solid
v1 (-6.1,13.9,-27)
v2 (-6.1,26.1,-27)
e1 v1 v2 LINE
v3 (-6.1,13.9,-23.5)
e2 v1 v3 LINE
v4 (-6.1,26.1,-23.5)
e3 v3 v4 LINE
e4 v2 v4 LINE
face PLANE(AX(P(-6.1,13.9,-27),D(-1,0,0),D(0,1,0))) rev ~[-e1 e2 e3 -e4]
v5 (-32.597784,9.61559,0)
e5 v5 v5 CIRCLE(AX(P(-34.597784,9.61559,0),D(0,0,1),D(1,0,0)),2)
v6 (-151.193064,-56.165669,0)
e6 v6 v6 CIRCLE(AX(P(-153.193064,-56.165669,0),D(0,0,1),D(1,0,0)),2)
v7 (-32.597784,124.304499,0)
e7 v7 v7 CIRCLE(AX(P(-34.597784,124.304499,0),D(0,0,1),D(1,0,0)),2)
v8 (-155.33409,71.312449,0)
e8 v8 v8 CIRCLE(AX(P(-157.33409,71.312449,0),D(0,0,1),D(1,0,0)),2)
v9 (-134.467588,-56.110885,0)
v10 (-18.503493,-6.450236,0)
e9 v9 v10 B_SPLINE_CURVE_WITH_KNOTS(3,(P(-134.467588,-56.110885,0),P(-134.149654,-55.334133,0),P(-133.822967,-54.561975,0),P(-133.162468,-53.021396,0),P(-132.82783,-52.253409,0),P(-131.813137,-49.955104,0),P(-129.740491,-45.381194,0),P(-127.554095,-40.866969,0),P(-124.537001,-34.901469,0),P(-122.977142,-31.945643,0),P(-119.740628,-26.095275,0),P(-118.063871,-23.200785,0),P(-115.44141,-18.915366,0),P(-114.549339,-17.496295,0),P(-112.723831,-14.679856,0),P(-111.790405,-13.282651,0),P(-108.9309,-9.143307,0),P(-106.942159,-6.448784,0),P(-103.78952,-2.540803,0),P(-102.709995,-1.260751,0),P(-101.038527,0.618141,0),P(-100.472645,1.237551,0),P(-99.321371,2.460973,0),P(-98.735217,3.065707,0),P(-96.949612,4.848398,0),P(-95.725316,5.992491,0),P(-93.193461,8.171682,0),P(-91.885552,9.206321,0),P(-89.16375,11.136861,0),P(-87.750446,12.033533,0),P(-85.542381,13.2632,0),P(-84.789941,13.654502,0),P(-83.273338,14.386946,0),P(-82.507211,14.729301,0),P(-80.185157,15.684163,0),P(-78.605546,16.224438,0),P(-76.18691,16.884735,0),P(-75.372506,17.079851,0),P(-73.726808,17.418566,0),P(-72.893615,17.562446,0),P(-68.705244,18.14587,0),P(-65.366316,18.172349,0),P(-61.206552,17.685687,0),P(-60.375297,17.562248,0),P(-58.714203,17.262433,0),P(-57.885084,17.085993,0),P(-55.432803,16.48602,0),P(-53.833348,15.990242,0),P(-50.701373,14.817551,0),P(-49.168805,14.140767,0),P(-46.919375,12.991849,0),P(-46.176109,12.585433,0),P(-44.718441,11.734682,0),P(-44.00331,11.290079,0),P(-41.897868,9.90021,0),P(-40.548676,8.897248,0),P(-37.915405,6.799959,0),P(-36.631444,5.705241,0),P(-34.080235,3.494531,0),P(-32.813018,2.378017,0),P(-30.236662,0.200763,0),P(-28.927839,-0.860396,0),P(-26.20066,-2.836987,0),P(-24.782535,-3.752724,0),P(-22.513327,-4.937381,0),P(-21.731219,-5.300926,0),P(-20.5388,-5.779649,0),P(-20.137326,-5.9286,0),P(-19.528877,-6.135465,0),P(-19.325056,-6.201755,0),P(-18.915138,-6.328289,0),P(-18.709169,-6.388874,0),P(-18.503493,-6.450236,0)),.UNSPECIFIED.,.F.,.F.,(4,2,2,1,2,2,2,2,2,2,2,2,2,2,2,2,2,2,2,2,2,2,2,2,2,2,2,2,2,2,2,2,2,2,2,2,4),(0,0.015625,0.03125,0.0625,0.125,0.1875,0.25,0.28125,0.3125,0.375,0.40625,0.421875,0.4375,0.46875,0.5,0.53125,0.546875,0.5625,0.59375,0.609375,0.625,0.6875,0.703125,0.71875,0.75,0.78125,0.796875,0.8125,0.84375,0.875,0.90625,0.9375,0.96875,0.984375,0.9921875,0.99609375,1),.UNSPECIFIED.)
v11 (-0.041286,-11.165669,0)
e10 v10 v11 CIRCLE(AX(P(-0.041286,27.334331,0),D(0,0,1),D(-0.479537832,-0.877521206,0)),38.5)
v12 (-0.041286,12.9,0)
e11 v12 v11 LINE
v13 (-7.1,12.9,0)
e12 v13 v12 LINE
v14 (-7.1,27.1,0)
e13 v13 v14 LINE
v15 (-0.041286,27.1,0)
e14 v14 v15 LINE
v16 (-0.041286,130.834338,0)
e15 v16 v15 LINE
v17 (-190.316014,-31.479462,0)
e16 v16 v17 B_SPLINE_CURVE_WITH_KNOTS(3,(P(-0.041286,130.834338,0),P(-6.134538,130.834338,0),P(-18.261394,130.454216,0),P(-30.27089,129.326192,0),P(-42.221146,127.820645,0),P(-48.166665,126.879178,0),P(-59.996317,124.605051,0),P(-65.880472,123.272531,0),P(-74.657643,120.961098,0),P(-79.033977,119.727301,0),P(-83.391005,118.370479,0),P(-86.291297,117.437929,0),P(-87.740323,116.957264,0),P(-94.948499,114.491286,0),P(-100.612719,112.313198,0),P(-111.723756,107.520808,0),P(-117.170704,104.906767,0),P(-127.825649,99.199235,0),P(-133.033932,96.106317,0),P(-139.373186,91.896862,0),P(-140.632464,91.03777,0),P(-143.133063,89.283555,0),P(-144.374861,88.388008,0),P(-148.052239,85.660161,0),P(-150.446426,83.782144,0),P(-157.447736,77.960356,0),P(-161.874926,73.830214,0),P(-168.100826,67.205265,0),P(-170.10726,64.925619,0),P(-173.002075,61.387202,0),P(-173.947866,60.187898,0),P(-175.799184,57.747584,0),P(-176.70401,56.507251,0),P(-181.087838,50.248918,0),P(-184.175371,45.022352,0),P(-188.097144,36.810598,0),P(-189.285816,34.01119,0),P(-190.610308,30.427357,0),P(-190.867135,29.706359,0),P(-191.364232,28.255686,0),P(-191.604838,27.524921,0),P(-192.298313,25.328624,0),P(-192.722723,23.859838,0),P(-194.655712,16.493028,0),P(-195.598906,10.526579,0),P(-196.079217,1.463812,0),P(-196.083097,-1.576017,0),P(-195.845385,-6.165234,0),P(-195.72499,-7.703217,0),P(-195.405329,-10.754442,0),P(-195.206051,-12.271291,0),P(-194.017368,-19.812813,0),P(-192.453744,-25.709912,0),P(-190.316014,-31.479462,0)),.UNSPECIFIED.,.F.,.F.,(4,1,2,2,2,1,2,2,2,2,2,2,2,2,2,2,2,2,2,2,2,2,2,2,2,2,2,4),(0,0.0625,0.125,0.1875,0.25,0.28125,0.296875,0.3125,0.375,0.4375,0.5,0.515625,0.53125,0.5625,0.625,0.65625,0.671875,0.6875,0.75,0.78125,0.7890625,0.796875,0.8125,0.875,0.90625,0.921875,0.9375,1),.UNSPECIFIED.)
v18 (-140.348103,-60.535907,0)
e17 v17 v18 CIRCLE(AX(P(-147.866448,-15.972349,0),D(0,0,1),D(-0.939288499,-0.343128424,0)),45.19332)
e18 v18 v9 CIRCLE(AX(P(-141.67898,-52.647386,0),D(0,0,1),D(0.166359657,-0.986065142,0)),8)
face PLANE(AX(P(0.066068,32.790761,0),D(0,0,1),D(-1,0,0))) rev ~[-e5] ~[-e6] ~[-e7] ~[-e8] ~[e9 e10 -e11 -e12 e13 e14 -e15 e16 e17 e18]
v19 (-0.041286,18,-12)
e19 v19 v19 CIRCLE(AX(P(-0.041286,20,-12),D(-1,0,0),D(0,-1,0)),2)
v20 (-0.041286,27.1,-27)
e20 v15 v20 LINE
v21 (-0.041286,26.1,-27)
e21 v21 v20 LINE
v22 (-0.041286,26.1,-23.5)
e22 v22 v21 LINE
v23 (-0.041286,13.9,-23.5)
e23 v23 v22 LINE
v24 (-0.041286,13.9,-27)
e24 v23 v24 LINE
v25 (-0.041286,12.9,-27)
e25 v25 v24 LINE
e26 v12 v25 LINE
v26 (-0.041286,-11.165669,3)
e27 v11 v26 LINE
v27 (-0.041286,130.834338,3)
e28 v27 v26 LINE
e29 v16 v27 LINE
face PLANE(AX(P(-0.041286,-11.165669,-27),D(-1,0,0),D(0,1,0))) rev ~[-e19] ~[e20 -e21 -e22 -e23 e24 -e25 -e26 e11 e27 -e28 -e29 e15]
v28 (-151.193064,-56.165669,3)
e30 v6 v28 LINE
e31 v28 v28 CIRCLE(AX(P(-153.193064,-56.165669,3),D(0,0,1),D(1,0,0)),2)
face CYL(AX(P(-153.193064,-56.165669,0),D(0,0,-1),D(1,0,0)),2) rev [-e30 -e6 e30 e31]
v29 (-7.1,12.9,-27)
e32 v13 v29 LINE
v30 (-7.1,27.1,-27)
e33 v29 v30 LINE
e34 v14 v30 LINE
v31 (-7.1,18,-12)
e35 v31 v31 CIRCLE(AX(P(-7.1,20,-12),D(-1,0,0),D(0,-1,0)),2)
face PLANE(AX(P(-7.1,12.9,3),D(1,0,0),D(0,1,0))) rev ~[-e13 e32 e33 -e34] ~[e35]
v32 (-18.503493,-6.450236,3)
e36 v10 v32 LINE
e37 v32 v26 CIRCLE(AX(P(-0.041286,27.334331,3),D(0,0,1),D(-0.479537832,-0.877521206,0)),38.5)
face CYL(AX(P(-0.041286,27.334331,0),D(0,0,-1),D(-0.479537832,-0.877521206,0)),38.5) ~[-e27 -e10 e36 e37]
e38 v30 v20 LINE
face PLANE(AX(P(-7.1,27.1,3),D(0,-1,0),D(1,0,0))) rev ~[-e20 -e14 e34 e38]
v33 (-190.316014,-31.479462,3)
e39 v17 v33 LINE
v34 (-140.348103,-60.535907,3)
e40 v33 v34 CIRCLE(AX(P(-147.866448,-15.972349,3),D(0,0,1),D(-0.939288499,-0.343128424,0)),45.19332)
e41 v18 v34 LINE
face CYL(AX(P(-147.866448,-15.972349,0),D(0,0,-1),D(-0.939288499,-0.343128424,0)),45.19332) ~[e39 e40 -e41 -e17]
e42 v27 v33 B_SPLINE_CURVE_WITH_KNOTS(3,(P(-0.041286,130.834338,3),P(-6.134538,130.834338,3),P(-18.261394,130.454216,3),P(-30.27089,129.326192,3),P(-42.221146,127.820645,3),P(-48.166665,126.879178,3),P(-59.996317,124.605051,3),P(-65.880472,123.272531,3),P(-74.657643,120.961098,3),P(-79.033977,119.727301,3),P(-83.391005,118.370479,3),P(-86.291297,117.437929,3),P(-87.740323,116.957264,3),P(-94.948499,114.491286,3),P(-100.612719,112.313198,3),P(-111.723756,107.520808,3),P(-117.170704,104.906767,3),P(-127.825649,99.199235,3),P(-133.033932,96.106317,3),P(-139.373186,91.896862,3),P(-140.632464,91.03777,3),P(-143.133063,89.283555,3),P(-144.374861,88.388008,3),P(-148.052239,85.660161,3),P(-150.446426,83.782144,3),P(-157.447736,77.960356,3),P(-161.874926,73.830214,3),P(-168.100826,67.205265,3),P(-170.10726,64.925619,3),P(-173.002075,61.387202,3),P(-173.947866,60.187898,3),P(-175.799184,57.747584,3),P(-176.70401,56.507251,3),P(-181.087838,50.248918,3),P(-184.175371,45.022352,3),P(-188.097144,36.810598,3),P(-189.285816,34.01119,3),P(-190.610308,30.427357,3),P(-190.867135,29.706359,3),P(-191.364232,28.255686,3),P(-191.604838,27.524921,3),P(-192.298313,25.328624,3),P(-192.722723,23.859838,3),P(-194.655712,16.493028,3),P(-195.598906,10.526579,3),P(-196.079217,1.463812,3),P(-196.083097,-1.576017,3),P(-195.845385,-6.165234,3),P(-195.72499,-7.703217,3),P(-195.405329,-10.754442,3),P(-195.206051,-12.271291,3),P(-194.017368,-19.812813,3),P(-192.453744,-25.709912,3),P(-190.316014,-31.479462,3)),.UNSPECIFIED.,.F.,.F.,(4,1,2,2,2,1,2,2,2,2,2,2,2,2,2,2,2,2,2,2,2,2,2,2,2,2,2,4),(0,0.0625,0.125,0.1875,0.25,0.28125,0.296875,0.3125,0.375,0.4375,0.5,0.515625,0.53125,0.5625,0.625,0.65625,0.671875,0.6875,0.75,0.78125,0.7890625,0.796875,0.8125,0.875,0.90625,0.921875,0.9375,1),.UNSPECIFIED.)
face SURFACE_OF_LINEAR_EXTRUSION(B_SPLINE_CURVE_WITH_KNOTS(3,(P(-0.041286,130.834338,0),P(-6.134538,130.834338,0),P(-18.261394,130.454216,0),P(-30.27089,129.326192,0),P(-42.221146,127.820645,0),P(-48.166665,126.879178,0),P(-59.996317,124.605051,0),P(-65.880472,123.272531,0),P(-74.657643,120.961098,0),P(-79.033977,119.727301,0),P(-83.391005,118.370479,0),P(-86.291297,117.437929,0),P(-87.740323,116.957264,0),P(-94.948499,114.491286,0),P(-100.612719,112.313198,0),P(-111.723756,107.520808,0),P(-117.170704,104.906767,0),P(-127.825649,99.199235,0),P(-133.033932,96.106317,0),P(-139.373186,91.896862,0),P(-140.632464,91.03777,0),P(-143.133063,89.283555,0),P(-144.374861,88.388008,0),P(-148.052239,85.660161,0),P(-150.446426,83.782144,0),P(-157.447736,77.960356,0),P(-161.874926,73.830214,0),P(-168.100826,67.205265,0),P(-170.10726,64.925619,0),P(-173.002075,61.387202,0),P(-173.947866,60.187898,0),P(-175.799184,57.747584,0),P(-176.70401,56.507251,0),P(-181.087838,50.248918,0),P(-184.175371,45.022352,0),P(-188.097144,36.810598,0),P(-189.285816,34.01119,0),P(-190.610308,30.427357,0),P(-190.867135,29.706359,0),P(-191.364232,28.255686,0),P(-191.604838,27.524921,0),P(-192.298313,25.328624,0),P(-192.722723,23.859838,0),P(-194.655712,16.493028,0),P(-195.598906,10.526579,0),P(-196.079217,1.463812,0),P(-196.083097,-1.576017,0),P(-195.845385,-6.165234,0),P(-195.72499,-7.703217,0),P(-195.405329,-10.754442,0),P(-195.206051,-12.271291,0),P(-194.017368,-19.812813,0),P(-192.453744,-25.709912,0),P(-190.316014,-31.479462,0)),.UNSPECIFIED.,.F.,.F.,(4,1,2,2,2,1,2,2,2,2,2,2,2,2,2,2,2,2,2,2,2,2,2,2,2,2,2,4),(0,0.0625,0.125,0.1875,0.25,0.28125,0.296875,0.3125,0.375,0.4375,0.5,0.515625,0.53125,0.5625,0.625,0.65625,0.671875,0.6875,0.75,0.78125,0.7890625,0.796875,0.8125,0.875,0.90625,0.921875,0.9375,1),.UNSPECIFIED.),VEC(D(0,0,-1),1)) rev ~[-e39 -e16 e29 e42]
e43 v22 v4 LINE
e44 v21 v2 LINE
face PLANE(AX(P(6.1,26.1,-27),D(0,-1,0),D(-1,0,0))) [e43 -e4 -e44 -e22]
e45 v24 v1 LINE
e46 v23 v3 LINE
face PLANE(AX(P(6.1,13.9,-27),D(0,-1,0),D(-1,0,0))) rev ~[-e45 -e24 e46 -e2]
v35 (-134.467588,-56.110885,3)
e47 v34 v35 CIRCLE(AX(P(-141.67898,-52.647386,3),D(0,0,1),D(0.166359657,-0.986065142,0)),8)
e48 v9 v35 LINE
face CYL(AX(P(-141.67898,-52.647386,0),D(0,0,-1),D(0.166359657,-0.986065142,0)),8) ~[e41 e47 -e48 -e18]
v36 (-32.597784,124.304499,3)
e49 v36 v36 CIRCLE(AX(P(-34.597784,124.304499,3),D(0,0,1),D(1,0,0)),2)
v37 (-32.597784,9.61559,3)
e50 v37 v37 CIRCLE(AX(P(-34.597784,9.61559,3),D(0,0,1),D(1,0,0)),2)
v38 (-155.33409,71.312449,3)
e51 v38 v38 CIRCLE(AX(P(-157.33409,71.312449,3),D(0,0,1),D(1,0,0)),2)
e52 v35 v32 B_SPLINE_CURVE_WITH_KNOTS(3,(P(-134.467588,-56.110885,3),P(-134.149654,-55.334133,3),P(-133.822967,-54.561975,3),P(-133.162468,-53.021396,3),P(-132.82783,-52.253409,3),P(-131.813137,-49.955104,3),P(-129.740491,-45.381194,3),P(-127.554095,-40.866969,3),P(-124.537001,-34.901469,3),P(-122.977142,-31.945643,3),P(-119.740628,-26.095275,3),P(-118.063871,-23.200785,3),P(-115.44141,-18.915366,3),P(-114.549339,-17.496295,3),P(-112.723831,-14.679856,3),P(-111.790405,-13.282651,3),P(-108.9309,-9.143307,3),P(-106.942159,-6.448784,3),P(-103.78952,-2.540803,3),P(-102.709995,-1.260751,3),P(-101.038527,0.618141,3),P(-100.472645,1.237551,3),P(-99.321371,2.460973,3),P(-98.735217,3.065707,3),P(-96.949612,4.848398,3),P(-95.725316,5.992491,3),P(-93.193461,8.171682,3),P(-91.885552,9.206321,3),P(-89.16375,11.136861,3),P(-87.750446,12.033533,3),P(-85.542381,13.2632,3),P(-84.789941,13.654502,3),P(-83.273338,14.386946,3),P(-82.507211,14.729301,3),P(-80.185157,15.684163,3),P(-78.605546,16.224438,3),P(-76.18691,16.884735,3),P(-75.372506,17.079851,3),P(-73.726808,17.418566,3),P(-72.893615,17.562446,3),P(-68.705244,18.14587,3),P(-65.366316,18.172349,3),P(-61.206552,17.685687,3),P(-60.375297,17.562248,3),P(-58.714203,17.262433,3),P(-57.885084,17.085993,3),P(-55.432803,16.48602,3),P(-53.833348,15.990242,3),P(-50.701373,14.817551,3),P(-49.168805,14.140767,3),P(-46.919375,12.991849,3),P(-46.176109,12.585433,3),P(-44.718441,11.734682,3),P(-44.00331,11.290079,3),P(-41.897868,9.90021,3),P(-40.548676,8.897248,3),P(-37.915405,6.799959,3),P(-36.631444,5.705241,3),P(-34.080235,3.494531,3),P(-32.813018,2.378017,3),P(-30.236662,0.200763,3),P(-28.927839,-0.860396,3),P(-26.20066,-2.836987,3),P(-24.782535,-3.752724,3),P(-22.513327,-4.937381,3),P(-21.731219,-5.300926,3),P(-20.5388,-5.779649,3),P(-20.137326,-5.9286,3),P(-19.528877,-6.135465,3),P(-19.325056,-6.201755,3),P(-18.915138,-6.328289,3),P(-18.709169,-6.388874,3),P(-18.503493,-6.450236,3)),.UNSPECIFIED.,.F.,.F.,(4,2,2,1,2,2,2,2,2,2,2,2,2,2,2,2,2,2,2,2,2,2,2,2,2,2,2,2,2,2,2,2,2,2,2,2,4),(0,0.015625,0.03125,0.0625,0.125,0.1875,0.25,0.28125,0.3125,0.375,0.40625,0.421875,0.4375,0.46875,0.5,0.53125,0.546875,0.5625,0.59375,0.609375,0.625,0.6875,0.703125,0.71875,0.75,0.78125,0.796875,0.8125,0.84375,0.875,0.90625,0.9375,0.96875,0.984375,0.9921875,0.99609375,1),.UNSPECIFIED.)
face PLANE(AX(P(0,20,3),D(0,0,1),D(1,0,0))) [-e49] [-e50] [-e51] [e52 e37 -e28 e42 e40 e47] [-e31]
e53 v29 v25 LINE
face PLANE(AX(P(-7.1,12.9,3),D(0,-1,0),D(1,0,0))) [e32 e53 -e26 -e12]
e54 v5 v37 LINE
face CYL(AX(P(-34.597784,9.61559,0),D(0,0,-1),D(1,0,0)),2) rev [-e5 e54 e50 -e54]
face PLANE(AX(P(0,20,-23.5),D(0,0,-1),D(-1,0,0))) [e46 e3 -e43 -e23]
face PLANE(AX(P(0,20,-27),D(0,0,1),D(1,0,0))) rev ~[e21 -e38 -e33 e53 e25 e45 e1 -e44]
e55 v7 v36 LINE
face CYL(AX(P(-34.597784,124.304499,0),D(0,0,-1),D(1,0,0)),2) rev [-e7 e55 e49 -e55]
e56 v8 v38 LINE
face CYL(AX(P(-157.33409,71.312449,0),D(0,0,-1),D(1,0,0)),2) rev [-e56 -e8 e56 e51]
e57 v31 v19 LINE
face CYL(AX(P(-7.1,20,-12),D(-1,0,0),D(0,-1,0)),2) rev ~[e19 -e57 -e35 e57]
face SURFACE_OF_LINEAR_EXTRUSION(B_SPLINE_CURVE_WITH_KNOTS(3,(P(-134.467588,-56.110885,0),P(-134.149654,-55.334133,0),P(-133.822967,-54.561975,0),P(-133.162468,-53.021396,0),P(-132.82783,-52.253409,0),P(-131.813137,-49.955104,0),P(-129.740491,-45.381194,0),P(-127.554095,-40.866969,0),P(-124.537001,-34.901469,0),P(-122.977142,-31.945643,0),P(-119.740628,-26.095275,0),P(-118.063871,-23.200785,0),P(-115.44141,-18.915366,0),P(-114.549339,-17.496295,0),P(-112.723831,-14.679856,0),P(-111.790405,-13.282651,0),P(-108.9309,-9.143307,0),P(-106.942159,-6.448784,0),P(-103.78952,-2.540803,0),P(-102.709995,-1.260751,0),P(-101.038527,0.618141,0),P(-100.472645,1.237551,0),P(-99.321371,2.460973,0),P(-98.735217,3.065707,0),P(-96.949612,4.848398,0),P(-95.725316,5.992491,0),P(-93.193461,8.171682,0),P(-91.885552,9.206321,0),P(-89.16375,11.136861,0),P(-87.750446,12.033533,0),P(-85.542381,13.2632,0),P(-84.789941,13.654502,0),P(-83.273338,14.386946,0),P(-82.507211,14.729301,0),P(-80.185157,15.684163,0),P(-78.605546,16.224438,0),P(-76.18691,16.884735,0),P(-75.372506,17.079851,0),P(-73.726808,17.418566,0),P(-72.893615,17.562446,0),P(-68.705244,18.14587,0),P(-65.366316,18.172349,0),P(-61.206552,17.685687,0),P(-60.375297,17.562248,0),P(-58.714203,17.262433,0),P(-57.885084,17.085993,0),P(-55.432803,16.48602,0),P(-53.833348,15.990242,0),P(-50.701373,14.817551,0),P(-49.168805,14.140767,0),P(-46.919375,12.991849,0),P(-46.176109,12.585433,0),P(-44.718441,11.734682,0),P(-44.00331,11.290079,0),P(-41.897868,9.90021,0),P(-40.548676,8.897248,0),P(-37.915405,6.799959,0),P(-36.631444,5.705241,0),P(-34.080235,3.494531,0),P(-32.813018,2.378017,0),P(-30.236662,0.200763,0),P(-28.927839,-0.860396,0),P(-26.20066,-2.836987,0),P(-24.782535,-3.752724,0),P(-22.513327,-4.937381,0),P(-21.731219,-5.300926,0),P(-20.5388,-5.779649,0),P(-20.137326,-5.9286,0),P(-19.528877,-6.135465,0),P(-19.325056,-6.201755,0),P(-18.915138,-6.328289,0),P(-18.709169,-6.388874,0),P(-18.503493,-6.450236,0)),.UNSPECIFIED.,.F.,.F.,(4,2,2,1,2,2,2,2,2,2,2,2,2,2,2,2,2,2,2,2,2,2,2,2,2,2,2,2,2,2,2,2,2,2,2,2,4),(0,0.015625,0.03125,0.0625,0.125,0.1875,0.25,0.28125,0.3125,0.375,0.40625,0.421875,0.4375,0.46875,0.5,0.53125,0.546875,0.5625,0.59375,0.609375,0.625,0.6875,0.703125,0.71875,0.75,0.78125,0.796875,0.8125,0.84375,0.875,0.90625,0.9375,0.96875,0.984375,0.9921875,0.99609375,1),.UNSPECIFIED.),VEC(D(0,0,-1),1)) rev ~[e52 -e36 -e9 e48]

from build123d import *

# Parameters (mm, degrees)
CROQUIS7_R                 = 2.25
CROQUIS7_R_2               = 2
SALIENTE_EXTRUIR5_DEPTH    = 3
CROQUIS8_W                 = 14.2
CROQUIS8_H                 = 14.2
SALIENTE_EXTRUIR6_DEPTH    = 30
CROQUIS9_W                 = 12.2
CROQUIS9_H                 = 12.2
CORTAR_EXTRUIR3_DEPTH      = 3.5
CROQUIS10_R                = 1.5
CROQUIS10_W                = 52
CROQUIS10_H                = 60
CORTAR_EXTRUIR4_DEPTH      = 10
CROQUIS11_R                = 2
CORTAR_EXTRUIR5_DEPTH      = 244.062677057
CORTAR_EXTRUIR6_DEPTH      = 10
CORTAR_EXTRUIR6_DEPTH_BACK = 30


with BuildPart() as part:
    # Croquis7 → Saliente-Extruir5 (new body)
    with BuildSketch(Plane(origin=(0, 0, 0), x_dir=(-1, 0, 0), z_dir=(0, 0, 1))):
        with BuildLine():
            ThreePointArc((140.348102944, 60.535906772), (136.868803986, 59.039740818), (134.467588313, 56.110884882))
            add(Edge.make_bspline(
                [(134.467588313, 56.110884882), (134.149654238, 55.334133411), (133.822967437, 54.561974551), (133.162468089, 53.021395753), (132.827829682, 52.253409151), (131.813137405, 49.95510413), (129.740491118, 45.381193792), (127.554094799, 40.866968809), (124.537000873, 34.901469121), (122.977142227, 31.945642839), (119.740627649, 26.095274542), (118.063871011, 23.200785369), (115.441409795, 18.91536637), (114.549338579, 17.496294783), (112.72383113, 14.679856092), (111.790405163, 13.282650688), (108.93090019, 9.143306555), (106.942158815, 6.448783713), (103.789519774, 2.5408027), (102.709995436, 1.260750849), (101.03852657, -0.618140745), (100.472644941, -1.237551258), (99.321371183, -2.460973153), (98.735216612, -3.065706766), (96.949611744, -4.848397798), (95.725315546, -5.992490783), (93.193460811, -8.17168186), (91.885551874, -9.206321258), (89.163749912, -11.136861166), (87.750446472, -12.033533472), (85.542380661, -13.263200338), (84.789940556, -13.654501875), (83.273337808, -14.386945731), (82.507210908, -14.729300557), (80.185156663, -15.684162987), (78.605545886, -16.224438396), (76.18690973, -16.88473526), (75.372506069, -17.079850593), (73.726807841, -17.418565616), (72.893614615, -17.562445585), (68.705243638, -18.145869815), (65.366316414, -18.172349369), (61.206552273, -17.685687456), (60.375297364, -17.562248247), (58.714202725, -17.262432714), (57.885084071, -17.085992517), (55.432802766, -16.486020136), (53.833347943, -15.990242323), (50.701372835, -14.817551431), (49.168805031, -14.140766948), (46.919374597, -12.991848579), (46.176109393, -12.585433423), (44.71844096, -11.734682347), (44.00330992, -11.290078896), (41.89786804, -9.900210079), (40.548675898, -8.897248108), (37.915404815, -6.799959147), (36.631444442, -5.705240729), (34.080234787, -3.494531224), (32.813017874, -2.37801674), (30.236662295, -0.200762722), (28.927839074, 0.860396497), (26.200660035, 2.836986891), (24.782534521, 3.752724475), (22.513326989, 4.937380803), (21.731218891, 5.30092632), (20.538800155, 5.779648827), (20.137325925, 5.928599802), (19.528876591, 6.135464876), (19.325056364, 6.201754934), (18.915138447, 6.32828856), (18.709169476, 6.388873867), (18.503492991, 6.450235701)],
                knots=[0, 0, 0, 0, 0.015625, 0.015625, 0.03125, 0.03125, 0.0625, 0.125, 0.125, 0.1875, 0.1875, 0.25, 0.25, 0.28125, 0.28125, 0.3125, 0.3125, 0.375, 0.375, 0.40625, 0.40625, 0.421875, 0.421875, 0.4375, 0.4375, 0.46875, 0.46875, 0.5, 0.5, 0.53125, 0.53125, 0.546875, 0.546875, 0.5625, 0.5625, 0.59375, 0.59375, 0.609375, 0.609375, 0.625, 0.625, 0.6875, 0.6875, 0.703125, 0.703125, 0.71875, 0.71875, 0.75, 0.75, 0.78125, 0.78125, 0.796875, 0.796875, 0.8125, 0.8125, 0.84375, 0.84375, 0.875, 0.875, 0.90625, 0.90625, 0.9375, 0.9375, 0.96875, 0.96875, 0.984375, 0.984375, 0.9921875, 0.9921875, 0.99609375, 0.99609375, 1, 1, 1, 1], degree=3))
            ThreePointArc((18.503492991, 6.450235701), (9.568725558, 9.968187997), (0.041286445, 11.165669263))
            ThreePointArc((0.041286445, 11.165669263), (-9.486152668, 9.968187997), (-18.420920101, 6.450235701))
            add(Edge.make_bspline(
                [(-18.420920101, 6.450235701), (-18.623940111, 6.389666404), (-18.827355959, 6.329830822), (-19.231521602, 6.205217931), (-19.432092857, 6.140109685), (-20.029834347, 5.937422038), (-20.422847663, 5.792137477), (-21.586408936, 5.327592923), (-23.851571133, 4.283655696), (-25.957152112, 2.943922804), (-27.995784216, 1.480095188), (-28.664890842, 0.970984568), (-29.983921002, -0.073329511), (-31.932785293, -1.677966714), (-33.830609801, -3.348234863), (-37.648198778, -6.660559044), (-40.223642402, -8.829704647), (-43.732103414, -11.16931662), (-44.447751487, -11.619293464), (-45.90833942, -12.481581481), (-46.654055565, -12.894111913), (-48.910026429, -14.05945093), (-50.447191979, -14.745557377), (-53.587886072, -15.936216829), (-55.191605427, -16.440247818), (-57.65002542, -17.051733947), (-58.478840799, -17.231454942), (-60.152957814, -17.539864916), (-60.990189376, -17.667132679), (-65.177200996, -18.170568112), (-68.529524477, -18.150830669), (-72.723459823, -17.57652989), (-73.56537326, -17.433195972), (-75.227722525, -17.094199895), (-76.049649818, -16.898572429), (-78.48861692, -16.235921786), (-80.078810549, -15.693041625), (-82.413070582, -14.734529063), (-83.182665748, -14.391031128), (-84.704996506, -13.656396586), (-85.459349689, -13.264347284), (-87.686334065, -12.023619951), (-89.109100698, -11.119013238), (-91.845960574, -9.173794538), (-93.159325686, -8.13227129), (-95.699651961, -5.941089833), (-96.92657944, -4.791389468), (-99.311327975, -2.405501713), (-100.470747098, -1.167746926), (-102.705277757, 1.350255866), (-103.784333544, 2.63413345), (-106.931979291, 6.54404893), (-108.909553818, 9.229342103), (-112.69311531, 14.711639925), (-114.498345943, 17.509136981), (-117.975283478, 23.191061246), (-119.646743776, 26.075649006), (-122.879072623, 31.916824892), (-124.439905913, 34.873435974), (-127.463527635, 40.850489896), (-128.925763536, 43.869333899), (-131.039316303, 48.429617131), (-132.076557677, 50.718681564), (-133.080557539, 53.0229294), (-133.740912999, 54.563195318), (-134.0674355, 55.334997841), (-134.385015461, 56.110884961)],
                knots=[0, 0, 0, 0, 0.00390625, 0.00390625, 0.0078125, 0.0078125, 0.015625, 0.015625, 0.03125, 0.0625, 0.0625, 0.078125, 0.078125, 0.09375, 0.125, 0.125, 0.1875, 0.1875, 0.203125, 0.203125, 0.21875, 0.21875, 0.25, 0.25, 0.28125, 0.28125, 0.296875, 0.296875, 0.3125, 0.3125, 0.375, 0.375, 0.390625, 0.390625, 0.40625, 0.40625, 0.4375, 0.4375, 0.453125, 0.453125, 0.46875, 0.46875, 0.5, 0.5, 0.53125, 0.53125, 0.5625, 0.5625, 0.59375, 0.59375, 0.625, 0.625, 0.6875, 0.6875, 0.75, 0.75, 0.8125, 0.8125, 0.875, 0.875, 0.9375, 0.9375, 0.96875, 0.984375, 0.984375, 1, 1, 1, 1], degree=3))
            ThreePointArc((-134.385015461, 56.110884961), (-136.786231132, 59.039740844), (-140.265530055, 60.535906772))
            add(Edge.make_bspline(
                [(-140.265530055, 60.535906772), (-142.869313612, 60.975194236), (-145.472736764, 61.181545126), (-149.377353564, 61.156324129), (-150.678805664, 61.091795359), (-152.630851923, 60.909758714), (-153.281511997, 60.834852812), (-154.582787463, 60.656161872), (-155.234853603, 60.552101706), (-158.476802726, 59.961533397), (-160.993294496, 59.270458626), (-164.656700058, 57.918026872), (-165.859171506, 57.414272212), (-167.634457246, 56.578016163), (-168.221475639, 56.285808038), (-169.38587085, 55.674041203), (-169.964457435, 55.353726594), (-172.807439805, 53.697511994), (-174.937398486, 52.192576754), (-177.922607968, 49.673841605), (-178.882521506, 48.790456721), (-180.268716868, 47.398497719), (-180.721823613, 46.9233488), (-181.609804133, 45.950331764), (-182.044492036, 45.452521121), (-184.149785555, 42.932694997), (-185.636363328, 40.798932433), (-188.228703234, 36.30425224), (-189.334510792, 33.943361708), (-190.239592269, 31.46273884)],
                knots=[0, 0, 0, 0, 0.125, 0.125, 0.1875, 0.1875, 0.21875, 0.21875, 0.25, 0.25, 0.375, 0.375, 0.4375, 0.4375, 0.46875, 0.46875, 0.5, 0.5, 0.625, 0.625, 0.6875, 0.6875, 0.71875, 0.71875, 0.75, 0.75, 0.875, 0.875, 1, 1, 1, 1], degree=3))
            add(Edge.make_bspline(
                [(-190.239592269, 31.46273884), (-192.375255576, 25.696350204), (-193.930960398, 19.817912179), (-195.353011767, 10.824149994), (-195.674576312, 7.796775057), (-195.917624035, 3.209479486), (-195.95859604, 1.668142737), (-195.958829749, -1.399076424), (-195.918430127, -2.92654924), (-195.518471979, -10.533929614), (-194.56743795, -16.524250265), (-192.629288141, -23.898650857), (-192.204015591, -25.3678295), (-191.509820309, -27.563072124), (-191.268868279, -28.293875271), (-190.770797886, -29.745373087), (-190.513422668, -30.466933466), (-189.18582541, -34.054284362), (-187.99353352, -36.858768915), (-185.368434906, -42.346946573), (-183.935518187, -45.030584436), (-181.616583515, -48.97088495), (-180.815309976, -50.270107971), (-179.15756631, -52.840833163), (-178.299496505, -54.114584529), (-173.894487634, -60.387567833), (-170.029043597, -65.071235074), (-161.734486632, -73.885990461), (-157.304059995, -78.015790745), (-151.455251464, -82.873380155), (-150.269861365, -83.829577122), (-147.868570878, -85.712061036), (-146.651110312, -86.639504887), (-142.965561618, -89.369434932), (-140.47059657, -91.115230775), (-132.88142891, -96.148767416), (-127.683244876, -99.23322641), (-117.044436945, -104.928178838), (-111.603518482, -107.538096399), (-100.500242462, -112.325022089), (-94.837739322, -114.501745604), (-87.628813583, -116.966944585), (-86.180135392, -117.447244101), (-83.281186284, -118.37891039), (-78.92614565, -119.734494508), (-74.551754575, -120.967502962), (-65.778285791, -123.277142009), (-59.896441582, -124.608717398), (-48.071099861, -126.88132439), (-42.127581641, -127.822224818), (-30.181011709, -129.326909852), (-18.174890213, -130.454364585), (-6.05076732, -130.834337664), (0.041286395, -130.834337718)],
                knots=[0, 0, 0, 0, 0.0625, 0.0625, 0.09375, 0.09375, 0.109375, 0.109375, 0.125, 0.125, 0.1875, 0.1875, 0.203125, 0.203125, 0.2109375, 0.2109375, 0.21875, 0.21875, 0.25, 0.25, 0.28125, 0.28125, 0.296875, 0.296875, 0.3125, 0.3125, 0.375, 0.375, 0.4375, 0.4375, 0.453125, 0.453125, 0.46875, 0.46875, 0.5, 0.5, 0.5625, 0.5625, 0.625, 0.625, 0.6875, 0.6875, 0.703125, 0.703125, 0.71875, 0.75, 0.75, 0.8125, 0.8125, 0.875, 0.875, 0.9375, 1, 1, 1, 1], degree=3))
            add(Edge.make_bspline(
                [(0.041286395, -130.834337718), (6.134538372, -130.834337861), (18.261394111, -130.454215542), (30.270890379, -129.326191765), (42.221146328, -127.820644803), (48.166664918, -126.879178393), (59.996316501, -124.605051093), (65.880471618, -123.272531195), (74.657643286, -120.961098273), (79.033976886, -119.727301499), (83.391005428, -118.370478603), (86.291297223, -117.437928825), (87.740322905, -116.957264458), (94.94849915, -114.491286465), (100.612718757, -112.313197934), (111.723756279, -107.520808049), (117.170703974, -104.9067671), (127.825648694, -99.19923472), (133.033931688, -96.106317082), (139.373186051, -91.896862023), (140.632464259, -91.037770104), (143.133063373, -89.283555245), (144.374861494, -88.388007586), (148.052238664, -85.660160511), (150.446425915, -83.782144112), (157.447735696, -77.960356266), (161.874926497, -73.830213662), (168.100826372, -67.205265408), (170.107260305, -64.925618709), (173.00207465, -61.387202315), (173.947865617, -60.187897794), (175.799183824, -57.747584062), (176.704009528, -56.507250952), (181.087838152, -50.248918472), (184.175371038, -45.022352222), (188.097143692, -36.810598338), (189.285816024, -34.01118958), (190.610308183, -30.427356556), (190.867135429, -29.70635937), (191.364231806, -28.255685919), (191.604838096, -27.524920821), (192.298313078, -25.328623504), (192.722722681, -23.859837654), (194.655712304, -16.493027919), (195.598905702, -10.526579041), (196.07921656, -1.463811899), (196.083096745, 1.576017168), (195.845385004, 6.165233834), (195.724990331, 7.703216662), (195.405329025, 10.754442145), (195.206051361, 12.271290951), (194.017367953, 19.812812816), (192.45374436, 25.709911997), (190.316013842, 31.479461946)],
                knots=[0, 0, 0, 0, 0.0625, 0.125, 0.125, 0.1875, 0.1875, 0.25, 0.25, 0.28125, 0.296875, 0.296875, 0.3125, 0.3125, 0.375, 0.375, 0.4375, 0.4375, 0.5, 0.5, 0.515625, 0.515625, 0.53125, 0.53125, 0.5625, 0.5625, 0.625, 0.625, 0.65625, 0.65625, 0.671875, 0.671875, 0.6875, 0.6875, 0.75, 0.75, 0.78125, 0.78125, 0.7890625, 0.7890625, 0.796875, 0.796875, 0.8125, 0.8125, 0.875, 0.875, 0.90625, 0.90625, 0.921875, 0.921875, 0.9375, 0.9375, 1, 1, 1, 1], degree=3))
            ThreePointArc((190.316013842, 31.479461946), (170.584652034, 55.040486981), (140.348102944, 60.535906772))
        make_face()
        with Locations(Location((-153.110491216, 56.165669263, 0), (0, 0, 180))):
            Circle(CROQUIS7_R, mode=Mode.SUBTRACT)
        with Locations(Location((-34.515211049, -9.615590181, 0), (0, 0, 180))):
            Circle(CROQUIS7_R, mode=Mode.SUBTRACT)
        with Locations(Location((34.597783939, -9.615590181, 0), (0, 0, 180))):
            Circle(CROQUIS7_R_2, mode=Mode.SUBTRACT)
        with Locations(Location((153.193064106, 56.165669263, 0), (0, 0, 180))):
            Circle(CROQUIS7_R_2, mode=Mode.SUBTRACT)
        with Locations(Location((-157.251517535, -72.229628149, 0), (0, 0, 180))):
            Circle(CROQUIS7_R, mode=Mode.SUBTRACT)
        with Locations(Location((-34.515211049, -124.304498834, 0), (0, 0, 180))):
            Circle(CROQUIS7_R, mode=Mode.SUBTRACT)
        with Locations(Location((34.597783939, -124.304498834, 0), (0, 0, 180))):
            Circle(CROQUIS7_R_2, mode=Mode.SUBTRACT)
        with Locations(Location((157.334090424, -71.312448831, 0), (0, 0, 180))):
            Circle(CROQUIS7_R_2, mode=Mode.SUBTRACT)
    extrude(amount=SALIENTE_EXTRUIR5_DEPTH)

    # Croquis8 → Saliente-Extruir6 (add)
    with BuildSketch(Plane.XY.offset(3)):
        with Locations((0, 20)):
            Rectangle(CROQUIS8_W, CROQUIS8_H)
    extrude(amount=-SALIENTE_EXTRUIR6_DEPTH)

    # Croquis9 → Cortar-Extruir3 (cut)
    with BuildSketch(Plane(origin=(0, 0, -27), x_dir=(-1, 0, 0), z_dir=(0, 0, -1))):
        with Locations((0, 20)):
            Rectangle(CROQUIS9_W, CROQUIS9_H)
    extrude(amount=-CORTAR_EXTRUIR3_DEPTH, mode=Mode.SUBTRACT)

    # Croquis10 → Cortar-Extruir4 (cut)
    with BuildSketch(Plane.XY.offset(3)):
        with Locations((153.110491216, 41.334330737)):
            Circle(CROQUIS10_R)
        with Locations((153.110491216, -23.665669263)):
            Circle(CROQUIS10_R)
        with Locations((153.110491216, 8.834330737)):
            Rectangle(CROQUIS10_W, CROQUIS10_H)
    extrude(amount=-CORTAR_EXTRUIR4_DEPTH, mode=Mode.SUBTRACT)

    # Croquis11 → Cortar-Extruir5 (cut, through all)
    with BuildSketch(Plane.ZY.offset(7.1)):
        with Locations(Location((-12, 20, 0), (0, 0, 270))):
            Circle(CROQUIS11_R)
    extrude(amount=-CORTAR_EXTRUIR5_DEPTH, mode=Mode.SUBTRACT)

    # Croquis12 → Cortar-Extruir6 (cut, two sides: drawn at the far end of the back side and taken through both)
    with BuildSketch(Plane.XY.offset(3).offset(-CORTAR_EXTRUIR6_DEPTH_BACK)):
        with BuildLine():
            Line((-0.041286395, -11.165669263), (-0.041286395, 130.834337718))
            add(Edge.make_bspline(
                [(190.239592269, -31.46273884), (192.375255576, -25.696350204), (193.930960398, -19.817912179), (195.353011767, -10.824149994), (195.674576312, -7.796775057), (195.917624035, -3.209479486), (195.95859604, -1.668142737), (195.958829749, 1.399076424), (195.918430127, 2.92654924), (195.518471979, 10.533929614), (194.56743795, 16.524250265), (192.629288141, 23.898650857), (192.204015591, 25.3678295), (191.509820309, 27.563072124), (191.268868279, 28.293875271), (190.770797886, 29.745373087), (190.513422668, 30.466933466), (189.18582541, 34.054284362), (187.99353352, 36.858768915), (185.368434906, 42.346946573), (183.935518187, 45.030584436), (181.616583515, 48.97088495), (180.815309976, 50.270107971), (179.15756631, 52.840833163), (178.299496505, 54.114584529), (173.894487634, 60.387567833), (170.029043597, 65.071235074), (161.734486632, 73.885990461), (157.304059995, 78.015790745), (151.455251464, 82.873380155), (150.269861365, 83.829577122), (147.868570878, 85.712061036), (146.651110312, 86.639504887), (142.965561618, 89.369434932), (140.47059657, 91.115230775), (132.88142891, 96.148767416), (127.683244876, 99.23322641), (117.044436945, 104.928178838), (111.603518482, 107.538096399), (100.500242462, 112.325022089), (94.837739322, 114.501745604), (87.628813583, 116.966944585), (86.180135392, 117.447244101), (83.281186284, 118.37891039), (78.92614565, 119.734494508), (74.551754575, 120.967502962), (65.778285791, 123.277142009), (59.896441582, 124.608717398), (48.071099861, 126.88132439), (42.127581641, 127.822224818), (30.181011709, 129.326909852), (18.174890213, 130.454364585), (6.05076732, 130.834337664), (-0.041286395, 130.834337718)],
                knots=[0, 0, 0, 0, 0.0625, 0.0625, 0.09375, 0.09375, 0.109375, 0.109375, 0.125, 0.125, 0.1875, 0.1875, 0.203125, 0.203125, 0.2109375, 0.2109375, 0.21875, 0.21875, 0.25, 0.25, 0.28125, 0.28125, 0.296875, 0.296875, 0.3125, 0.3125, 0.375, 0.375, 0.4375, 0.4375, 0.453125, 0.453125, 0.46875, 0.46875, 0.5, 0.5, 0.5625, 0.5625, 0.625, 0.625, 0.6875, 0.6875, 0.703125, 0.703125, 0.71875, 0.75, 0.75, 0.8125, 0.8125, 0.875, 0.875, 0.9375, 1, 1, 1, 1], degree=3))
            add(Edge.make_bspline(
                [(140.265530055, -60.535906772), (142.869313612, -60.975194236), (145.472736764, -61.181545126), (149.377353564, -61.156324129), (150.678805664, -61.091795359), (152.630851923, -60.909758714), (153.281511997, -60.834852812), (154.582787463, -60.656161872), (155.234853603, -60.552101706), (158.476802726, -59.961533397), (160.993294496, -59.270458626), (164.656700058, -57.918026872), (165.859171506, -57.414272212), (167.634457246, -56.578016163), (168.221475639, -56.285808038), (169.38587085, -55.674041203), (169.964457435, -55.353726594), (172.807439805, -53.697511994), (174.937398486, -52.192576754), (177.922607968, -49.673841605), (178.882521506, -48.790456721), (180.268716868, -47.398497719), (180.721823613, -46.9233488), (181.609804133, -45.950331764), (182.044492036, -45.452521121), (184.149785555, -42.932694997), (185.636363328, -40.798932433), (188.228703234, -36.30425224), (189.334510792, -33.943361708), (190.239592269, -31.46273884)],
                knots=[0, 0, 0, 0, 0.125, 0.125, 0.1875, 0.1875, 0.21875, 0.21875, 0.25, 0.25, 0.375, 0.375, 0.4375, 0.4375, 0.46875, 0.46875, 0.5, 0.5, 0.625, 0.625, 0.6875, 0.6875, 0.71875, 0.71875, 0.75, 0.75, 0.875, 0.875, 1, 1, 1, 1], degree=3))
            ThreePointArc((140.265530055, -60.535906772), (136.786231132, -59.039740844), (134.385015461, -56.110884961))
            add(Edge.make_bspline(
                [(18.420920101, -6.450235701), (18.623940111, -6.389666404), (18.827355959, -6.329830822), (19.231521602, -6.205217931), (19.432092857, -6.140109685), (20.029834347, -5.937422038), (20.422847663, -5.792137477), (21.586408936, -5.327592923), (23.851571133, -4.283655696), (25.957152112, -2.943922804), (27.995784216, -1.480095188), (28.664890842, -0.970984568), (29.983921002, 0.073329511), (31.932785293, 1.677966714), (33.830609801, 3.348234863), (37.648198778, 6.660559044), (40.223642402, 8.829704647), (43.732103414, 11.16931662), (44.447751487, 11.619293464), (45.90833942, 12.481581481), (46.654055565, 12.894111913), (48.910026429, 14.05945093), (50.447191979, 14.745557377), (53.587886072, 15.936216829), (55.191605427, 16.440247818), (57.65002542, 17.051733947), (58.478840799, 17.231454942), (60.152957814, 17.539864916), (60.990189376, 17.667132679), (65.177200996, 18.170568112), (68.529524477, 18.150830669), (72.723459823, 17.57652989), (73.56537326, 17.433195972), (75.227722525, 17.094199895), (76.049649818, 16.898572429), (78.48861692, 16.235921786), (80.078810549, 15.693041625), (82.413070582, 14.734529063), (83.182665748, 14.391031128), (84.704996506, 13.656396586), (85.459349689, 13.264347284), (87.686334065, 12.023619951), (89.109100698, 11.119013238), (91.845960574, 9.173794538), (93.159325686, 8.13227129), (95.699651961, 5.941089833), (96.92657944, 4.791389468), (99.311327975, 2.405501713), (100.470747098, 1.167746926), (102.705277757, -1.350255866), (103.784333544, -2.63413345), (106.931979291, -6.54404893), (108.909553818, -9.229342103), (112.69311531, -14.711639925), (114.498345943, -17.509136981), (117.975283478, -23.191061246), (119.646743776, -26.075649006), (122.879072623, -31.916824892), (124.439905913, -34.873435974), (127.463527635, -40.850489896), (128.925763536, -43.869333899), (131.039316303, -48.429617131), (132.076557677, -50.718681564), (133.080557539, -53.0229294), (133.740912999, -54.563195318), (134.0674355, -55.334997841), (134.385015461, -56.110884961)],
                knots=[0, 0, 0, 0, 0.00390625, 0.00390625, 0.0078125, 0.0078125, 0.015625, 0.015625, 0.03125, 0.0625, 0.0625, 0.078125, 0.078125, 0.09375, 0.125, 0.125, 0.1875, 0.1875, 0.203125, 0.203125, 0.21875, 0.21875, 0.25, 0.25, 0.28125, 0.28125, 0.296875, 0.296875, 0.3125, 0.3125, 0.375, 0.375, 0.390625, 0.390625, 0.40625, 0.40625, 0.4375, 0.4375, 0.453125, 0.453125, 0.46875, 0.46875, 0.5, 0.5, 0.53125, 0.53125, 0.5625, 0.5625, 0.59375, 0.59375, 0.625, 0.625, 0.6875, 0.6875, 0.75, 0.75, 0.8125, 0.8125, 0.875, 0.875, 0.9375, 0.9375, 0.96875, 0.984375, 0.984375, 1, 1, 1, 1], degree=3))
            ThreePointArc((18.420920101, -6.450235701), (9.486152693, -9.968187991), (-0.041286395, -11.165669263))
        make_face()
    extrude(amount=CORTAR_EXTRUIR6_DEPTH + CORTAR_EXTRUIR6_DEPTH_BACK, mode=Mode.SUBTRACT)


solid = part.part
